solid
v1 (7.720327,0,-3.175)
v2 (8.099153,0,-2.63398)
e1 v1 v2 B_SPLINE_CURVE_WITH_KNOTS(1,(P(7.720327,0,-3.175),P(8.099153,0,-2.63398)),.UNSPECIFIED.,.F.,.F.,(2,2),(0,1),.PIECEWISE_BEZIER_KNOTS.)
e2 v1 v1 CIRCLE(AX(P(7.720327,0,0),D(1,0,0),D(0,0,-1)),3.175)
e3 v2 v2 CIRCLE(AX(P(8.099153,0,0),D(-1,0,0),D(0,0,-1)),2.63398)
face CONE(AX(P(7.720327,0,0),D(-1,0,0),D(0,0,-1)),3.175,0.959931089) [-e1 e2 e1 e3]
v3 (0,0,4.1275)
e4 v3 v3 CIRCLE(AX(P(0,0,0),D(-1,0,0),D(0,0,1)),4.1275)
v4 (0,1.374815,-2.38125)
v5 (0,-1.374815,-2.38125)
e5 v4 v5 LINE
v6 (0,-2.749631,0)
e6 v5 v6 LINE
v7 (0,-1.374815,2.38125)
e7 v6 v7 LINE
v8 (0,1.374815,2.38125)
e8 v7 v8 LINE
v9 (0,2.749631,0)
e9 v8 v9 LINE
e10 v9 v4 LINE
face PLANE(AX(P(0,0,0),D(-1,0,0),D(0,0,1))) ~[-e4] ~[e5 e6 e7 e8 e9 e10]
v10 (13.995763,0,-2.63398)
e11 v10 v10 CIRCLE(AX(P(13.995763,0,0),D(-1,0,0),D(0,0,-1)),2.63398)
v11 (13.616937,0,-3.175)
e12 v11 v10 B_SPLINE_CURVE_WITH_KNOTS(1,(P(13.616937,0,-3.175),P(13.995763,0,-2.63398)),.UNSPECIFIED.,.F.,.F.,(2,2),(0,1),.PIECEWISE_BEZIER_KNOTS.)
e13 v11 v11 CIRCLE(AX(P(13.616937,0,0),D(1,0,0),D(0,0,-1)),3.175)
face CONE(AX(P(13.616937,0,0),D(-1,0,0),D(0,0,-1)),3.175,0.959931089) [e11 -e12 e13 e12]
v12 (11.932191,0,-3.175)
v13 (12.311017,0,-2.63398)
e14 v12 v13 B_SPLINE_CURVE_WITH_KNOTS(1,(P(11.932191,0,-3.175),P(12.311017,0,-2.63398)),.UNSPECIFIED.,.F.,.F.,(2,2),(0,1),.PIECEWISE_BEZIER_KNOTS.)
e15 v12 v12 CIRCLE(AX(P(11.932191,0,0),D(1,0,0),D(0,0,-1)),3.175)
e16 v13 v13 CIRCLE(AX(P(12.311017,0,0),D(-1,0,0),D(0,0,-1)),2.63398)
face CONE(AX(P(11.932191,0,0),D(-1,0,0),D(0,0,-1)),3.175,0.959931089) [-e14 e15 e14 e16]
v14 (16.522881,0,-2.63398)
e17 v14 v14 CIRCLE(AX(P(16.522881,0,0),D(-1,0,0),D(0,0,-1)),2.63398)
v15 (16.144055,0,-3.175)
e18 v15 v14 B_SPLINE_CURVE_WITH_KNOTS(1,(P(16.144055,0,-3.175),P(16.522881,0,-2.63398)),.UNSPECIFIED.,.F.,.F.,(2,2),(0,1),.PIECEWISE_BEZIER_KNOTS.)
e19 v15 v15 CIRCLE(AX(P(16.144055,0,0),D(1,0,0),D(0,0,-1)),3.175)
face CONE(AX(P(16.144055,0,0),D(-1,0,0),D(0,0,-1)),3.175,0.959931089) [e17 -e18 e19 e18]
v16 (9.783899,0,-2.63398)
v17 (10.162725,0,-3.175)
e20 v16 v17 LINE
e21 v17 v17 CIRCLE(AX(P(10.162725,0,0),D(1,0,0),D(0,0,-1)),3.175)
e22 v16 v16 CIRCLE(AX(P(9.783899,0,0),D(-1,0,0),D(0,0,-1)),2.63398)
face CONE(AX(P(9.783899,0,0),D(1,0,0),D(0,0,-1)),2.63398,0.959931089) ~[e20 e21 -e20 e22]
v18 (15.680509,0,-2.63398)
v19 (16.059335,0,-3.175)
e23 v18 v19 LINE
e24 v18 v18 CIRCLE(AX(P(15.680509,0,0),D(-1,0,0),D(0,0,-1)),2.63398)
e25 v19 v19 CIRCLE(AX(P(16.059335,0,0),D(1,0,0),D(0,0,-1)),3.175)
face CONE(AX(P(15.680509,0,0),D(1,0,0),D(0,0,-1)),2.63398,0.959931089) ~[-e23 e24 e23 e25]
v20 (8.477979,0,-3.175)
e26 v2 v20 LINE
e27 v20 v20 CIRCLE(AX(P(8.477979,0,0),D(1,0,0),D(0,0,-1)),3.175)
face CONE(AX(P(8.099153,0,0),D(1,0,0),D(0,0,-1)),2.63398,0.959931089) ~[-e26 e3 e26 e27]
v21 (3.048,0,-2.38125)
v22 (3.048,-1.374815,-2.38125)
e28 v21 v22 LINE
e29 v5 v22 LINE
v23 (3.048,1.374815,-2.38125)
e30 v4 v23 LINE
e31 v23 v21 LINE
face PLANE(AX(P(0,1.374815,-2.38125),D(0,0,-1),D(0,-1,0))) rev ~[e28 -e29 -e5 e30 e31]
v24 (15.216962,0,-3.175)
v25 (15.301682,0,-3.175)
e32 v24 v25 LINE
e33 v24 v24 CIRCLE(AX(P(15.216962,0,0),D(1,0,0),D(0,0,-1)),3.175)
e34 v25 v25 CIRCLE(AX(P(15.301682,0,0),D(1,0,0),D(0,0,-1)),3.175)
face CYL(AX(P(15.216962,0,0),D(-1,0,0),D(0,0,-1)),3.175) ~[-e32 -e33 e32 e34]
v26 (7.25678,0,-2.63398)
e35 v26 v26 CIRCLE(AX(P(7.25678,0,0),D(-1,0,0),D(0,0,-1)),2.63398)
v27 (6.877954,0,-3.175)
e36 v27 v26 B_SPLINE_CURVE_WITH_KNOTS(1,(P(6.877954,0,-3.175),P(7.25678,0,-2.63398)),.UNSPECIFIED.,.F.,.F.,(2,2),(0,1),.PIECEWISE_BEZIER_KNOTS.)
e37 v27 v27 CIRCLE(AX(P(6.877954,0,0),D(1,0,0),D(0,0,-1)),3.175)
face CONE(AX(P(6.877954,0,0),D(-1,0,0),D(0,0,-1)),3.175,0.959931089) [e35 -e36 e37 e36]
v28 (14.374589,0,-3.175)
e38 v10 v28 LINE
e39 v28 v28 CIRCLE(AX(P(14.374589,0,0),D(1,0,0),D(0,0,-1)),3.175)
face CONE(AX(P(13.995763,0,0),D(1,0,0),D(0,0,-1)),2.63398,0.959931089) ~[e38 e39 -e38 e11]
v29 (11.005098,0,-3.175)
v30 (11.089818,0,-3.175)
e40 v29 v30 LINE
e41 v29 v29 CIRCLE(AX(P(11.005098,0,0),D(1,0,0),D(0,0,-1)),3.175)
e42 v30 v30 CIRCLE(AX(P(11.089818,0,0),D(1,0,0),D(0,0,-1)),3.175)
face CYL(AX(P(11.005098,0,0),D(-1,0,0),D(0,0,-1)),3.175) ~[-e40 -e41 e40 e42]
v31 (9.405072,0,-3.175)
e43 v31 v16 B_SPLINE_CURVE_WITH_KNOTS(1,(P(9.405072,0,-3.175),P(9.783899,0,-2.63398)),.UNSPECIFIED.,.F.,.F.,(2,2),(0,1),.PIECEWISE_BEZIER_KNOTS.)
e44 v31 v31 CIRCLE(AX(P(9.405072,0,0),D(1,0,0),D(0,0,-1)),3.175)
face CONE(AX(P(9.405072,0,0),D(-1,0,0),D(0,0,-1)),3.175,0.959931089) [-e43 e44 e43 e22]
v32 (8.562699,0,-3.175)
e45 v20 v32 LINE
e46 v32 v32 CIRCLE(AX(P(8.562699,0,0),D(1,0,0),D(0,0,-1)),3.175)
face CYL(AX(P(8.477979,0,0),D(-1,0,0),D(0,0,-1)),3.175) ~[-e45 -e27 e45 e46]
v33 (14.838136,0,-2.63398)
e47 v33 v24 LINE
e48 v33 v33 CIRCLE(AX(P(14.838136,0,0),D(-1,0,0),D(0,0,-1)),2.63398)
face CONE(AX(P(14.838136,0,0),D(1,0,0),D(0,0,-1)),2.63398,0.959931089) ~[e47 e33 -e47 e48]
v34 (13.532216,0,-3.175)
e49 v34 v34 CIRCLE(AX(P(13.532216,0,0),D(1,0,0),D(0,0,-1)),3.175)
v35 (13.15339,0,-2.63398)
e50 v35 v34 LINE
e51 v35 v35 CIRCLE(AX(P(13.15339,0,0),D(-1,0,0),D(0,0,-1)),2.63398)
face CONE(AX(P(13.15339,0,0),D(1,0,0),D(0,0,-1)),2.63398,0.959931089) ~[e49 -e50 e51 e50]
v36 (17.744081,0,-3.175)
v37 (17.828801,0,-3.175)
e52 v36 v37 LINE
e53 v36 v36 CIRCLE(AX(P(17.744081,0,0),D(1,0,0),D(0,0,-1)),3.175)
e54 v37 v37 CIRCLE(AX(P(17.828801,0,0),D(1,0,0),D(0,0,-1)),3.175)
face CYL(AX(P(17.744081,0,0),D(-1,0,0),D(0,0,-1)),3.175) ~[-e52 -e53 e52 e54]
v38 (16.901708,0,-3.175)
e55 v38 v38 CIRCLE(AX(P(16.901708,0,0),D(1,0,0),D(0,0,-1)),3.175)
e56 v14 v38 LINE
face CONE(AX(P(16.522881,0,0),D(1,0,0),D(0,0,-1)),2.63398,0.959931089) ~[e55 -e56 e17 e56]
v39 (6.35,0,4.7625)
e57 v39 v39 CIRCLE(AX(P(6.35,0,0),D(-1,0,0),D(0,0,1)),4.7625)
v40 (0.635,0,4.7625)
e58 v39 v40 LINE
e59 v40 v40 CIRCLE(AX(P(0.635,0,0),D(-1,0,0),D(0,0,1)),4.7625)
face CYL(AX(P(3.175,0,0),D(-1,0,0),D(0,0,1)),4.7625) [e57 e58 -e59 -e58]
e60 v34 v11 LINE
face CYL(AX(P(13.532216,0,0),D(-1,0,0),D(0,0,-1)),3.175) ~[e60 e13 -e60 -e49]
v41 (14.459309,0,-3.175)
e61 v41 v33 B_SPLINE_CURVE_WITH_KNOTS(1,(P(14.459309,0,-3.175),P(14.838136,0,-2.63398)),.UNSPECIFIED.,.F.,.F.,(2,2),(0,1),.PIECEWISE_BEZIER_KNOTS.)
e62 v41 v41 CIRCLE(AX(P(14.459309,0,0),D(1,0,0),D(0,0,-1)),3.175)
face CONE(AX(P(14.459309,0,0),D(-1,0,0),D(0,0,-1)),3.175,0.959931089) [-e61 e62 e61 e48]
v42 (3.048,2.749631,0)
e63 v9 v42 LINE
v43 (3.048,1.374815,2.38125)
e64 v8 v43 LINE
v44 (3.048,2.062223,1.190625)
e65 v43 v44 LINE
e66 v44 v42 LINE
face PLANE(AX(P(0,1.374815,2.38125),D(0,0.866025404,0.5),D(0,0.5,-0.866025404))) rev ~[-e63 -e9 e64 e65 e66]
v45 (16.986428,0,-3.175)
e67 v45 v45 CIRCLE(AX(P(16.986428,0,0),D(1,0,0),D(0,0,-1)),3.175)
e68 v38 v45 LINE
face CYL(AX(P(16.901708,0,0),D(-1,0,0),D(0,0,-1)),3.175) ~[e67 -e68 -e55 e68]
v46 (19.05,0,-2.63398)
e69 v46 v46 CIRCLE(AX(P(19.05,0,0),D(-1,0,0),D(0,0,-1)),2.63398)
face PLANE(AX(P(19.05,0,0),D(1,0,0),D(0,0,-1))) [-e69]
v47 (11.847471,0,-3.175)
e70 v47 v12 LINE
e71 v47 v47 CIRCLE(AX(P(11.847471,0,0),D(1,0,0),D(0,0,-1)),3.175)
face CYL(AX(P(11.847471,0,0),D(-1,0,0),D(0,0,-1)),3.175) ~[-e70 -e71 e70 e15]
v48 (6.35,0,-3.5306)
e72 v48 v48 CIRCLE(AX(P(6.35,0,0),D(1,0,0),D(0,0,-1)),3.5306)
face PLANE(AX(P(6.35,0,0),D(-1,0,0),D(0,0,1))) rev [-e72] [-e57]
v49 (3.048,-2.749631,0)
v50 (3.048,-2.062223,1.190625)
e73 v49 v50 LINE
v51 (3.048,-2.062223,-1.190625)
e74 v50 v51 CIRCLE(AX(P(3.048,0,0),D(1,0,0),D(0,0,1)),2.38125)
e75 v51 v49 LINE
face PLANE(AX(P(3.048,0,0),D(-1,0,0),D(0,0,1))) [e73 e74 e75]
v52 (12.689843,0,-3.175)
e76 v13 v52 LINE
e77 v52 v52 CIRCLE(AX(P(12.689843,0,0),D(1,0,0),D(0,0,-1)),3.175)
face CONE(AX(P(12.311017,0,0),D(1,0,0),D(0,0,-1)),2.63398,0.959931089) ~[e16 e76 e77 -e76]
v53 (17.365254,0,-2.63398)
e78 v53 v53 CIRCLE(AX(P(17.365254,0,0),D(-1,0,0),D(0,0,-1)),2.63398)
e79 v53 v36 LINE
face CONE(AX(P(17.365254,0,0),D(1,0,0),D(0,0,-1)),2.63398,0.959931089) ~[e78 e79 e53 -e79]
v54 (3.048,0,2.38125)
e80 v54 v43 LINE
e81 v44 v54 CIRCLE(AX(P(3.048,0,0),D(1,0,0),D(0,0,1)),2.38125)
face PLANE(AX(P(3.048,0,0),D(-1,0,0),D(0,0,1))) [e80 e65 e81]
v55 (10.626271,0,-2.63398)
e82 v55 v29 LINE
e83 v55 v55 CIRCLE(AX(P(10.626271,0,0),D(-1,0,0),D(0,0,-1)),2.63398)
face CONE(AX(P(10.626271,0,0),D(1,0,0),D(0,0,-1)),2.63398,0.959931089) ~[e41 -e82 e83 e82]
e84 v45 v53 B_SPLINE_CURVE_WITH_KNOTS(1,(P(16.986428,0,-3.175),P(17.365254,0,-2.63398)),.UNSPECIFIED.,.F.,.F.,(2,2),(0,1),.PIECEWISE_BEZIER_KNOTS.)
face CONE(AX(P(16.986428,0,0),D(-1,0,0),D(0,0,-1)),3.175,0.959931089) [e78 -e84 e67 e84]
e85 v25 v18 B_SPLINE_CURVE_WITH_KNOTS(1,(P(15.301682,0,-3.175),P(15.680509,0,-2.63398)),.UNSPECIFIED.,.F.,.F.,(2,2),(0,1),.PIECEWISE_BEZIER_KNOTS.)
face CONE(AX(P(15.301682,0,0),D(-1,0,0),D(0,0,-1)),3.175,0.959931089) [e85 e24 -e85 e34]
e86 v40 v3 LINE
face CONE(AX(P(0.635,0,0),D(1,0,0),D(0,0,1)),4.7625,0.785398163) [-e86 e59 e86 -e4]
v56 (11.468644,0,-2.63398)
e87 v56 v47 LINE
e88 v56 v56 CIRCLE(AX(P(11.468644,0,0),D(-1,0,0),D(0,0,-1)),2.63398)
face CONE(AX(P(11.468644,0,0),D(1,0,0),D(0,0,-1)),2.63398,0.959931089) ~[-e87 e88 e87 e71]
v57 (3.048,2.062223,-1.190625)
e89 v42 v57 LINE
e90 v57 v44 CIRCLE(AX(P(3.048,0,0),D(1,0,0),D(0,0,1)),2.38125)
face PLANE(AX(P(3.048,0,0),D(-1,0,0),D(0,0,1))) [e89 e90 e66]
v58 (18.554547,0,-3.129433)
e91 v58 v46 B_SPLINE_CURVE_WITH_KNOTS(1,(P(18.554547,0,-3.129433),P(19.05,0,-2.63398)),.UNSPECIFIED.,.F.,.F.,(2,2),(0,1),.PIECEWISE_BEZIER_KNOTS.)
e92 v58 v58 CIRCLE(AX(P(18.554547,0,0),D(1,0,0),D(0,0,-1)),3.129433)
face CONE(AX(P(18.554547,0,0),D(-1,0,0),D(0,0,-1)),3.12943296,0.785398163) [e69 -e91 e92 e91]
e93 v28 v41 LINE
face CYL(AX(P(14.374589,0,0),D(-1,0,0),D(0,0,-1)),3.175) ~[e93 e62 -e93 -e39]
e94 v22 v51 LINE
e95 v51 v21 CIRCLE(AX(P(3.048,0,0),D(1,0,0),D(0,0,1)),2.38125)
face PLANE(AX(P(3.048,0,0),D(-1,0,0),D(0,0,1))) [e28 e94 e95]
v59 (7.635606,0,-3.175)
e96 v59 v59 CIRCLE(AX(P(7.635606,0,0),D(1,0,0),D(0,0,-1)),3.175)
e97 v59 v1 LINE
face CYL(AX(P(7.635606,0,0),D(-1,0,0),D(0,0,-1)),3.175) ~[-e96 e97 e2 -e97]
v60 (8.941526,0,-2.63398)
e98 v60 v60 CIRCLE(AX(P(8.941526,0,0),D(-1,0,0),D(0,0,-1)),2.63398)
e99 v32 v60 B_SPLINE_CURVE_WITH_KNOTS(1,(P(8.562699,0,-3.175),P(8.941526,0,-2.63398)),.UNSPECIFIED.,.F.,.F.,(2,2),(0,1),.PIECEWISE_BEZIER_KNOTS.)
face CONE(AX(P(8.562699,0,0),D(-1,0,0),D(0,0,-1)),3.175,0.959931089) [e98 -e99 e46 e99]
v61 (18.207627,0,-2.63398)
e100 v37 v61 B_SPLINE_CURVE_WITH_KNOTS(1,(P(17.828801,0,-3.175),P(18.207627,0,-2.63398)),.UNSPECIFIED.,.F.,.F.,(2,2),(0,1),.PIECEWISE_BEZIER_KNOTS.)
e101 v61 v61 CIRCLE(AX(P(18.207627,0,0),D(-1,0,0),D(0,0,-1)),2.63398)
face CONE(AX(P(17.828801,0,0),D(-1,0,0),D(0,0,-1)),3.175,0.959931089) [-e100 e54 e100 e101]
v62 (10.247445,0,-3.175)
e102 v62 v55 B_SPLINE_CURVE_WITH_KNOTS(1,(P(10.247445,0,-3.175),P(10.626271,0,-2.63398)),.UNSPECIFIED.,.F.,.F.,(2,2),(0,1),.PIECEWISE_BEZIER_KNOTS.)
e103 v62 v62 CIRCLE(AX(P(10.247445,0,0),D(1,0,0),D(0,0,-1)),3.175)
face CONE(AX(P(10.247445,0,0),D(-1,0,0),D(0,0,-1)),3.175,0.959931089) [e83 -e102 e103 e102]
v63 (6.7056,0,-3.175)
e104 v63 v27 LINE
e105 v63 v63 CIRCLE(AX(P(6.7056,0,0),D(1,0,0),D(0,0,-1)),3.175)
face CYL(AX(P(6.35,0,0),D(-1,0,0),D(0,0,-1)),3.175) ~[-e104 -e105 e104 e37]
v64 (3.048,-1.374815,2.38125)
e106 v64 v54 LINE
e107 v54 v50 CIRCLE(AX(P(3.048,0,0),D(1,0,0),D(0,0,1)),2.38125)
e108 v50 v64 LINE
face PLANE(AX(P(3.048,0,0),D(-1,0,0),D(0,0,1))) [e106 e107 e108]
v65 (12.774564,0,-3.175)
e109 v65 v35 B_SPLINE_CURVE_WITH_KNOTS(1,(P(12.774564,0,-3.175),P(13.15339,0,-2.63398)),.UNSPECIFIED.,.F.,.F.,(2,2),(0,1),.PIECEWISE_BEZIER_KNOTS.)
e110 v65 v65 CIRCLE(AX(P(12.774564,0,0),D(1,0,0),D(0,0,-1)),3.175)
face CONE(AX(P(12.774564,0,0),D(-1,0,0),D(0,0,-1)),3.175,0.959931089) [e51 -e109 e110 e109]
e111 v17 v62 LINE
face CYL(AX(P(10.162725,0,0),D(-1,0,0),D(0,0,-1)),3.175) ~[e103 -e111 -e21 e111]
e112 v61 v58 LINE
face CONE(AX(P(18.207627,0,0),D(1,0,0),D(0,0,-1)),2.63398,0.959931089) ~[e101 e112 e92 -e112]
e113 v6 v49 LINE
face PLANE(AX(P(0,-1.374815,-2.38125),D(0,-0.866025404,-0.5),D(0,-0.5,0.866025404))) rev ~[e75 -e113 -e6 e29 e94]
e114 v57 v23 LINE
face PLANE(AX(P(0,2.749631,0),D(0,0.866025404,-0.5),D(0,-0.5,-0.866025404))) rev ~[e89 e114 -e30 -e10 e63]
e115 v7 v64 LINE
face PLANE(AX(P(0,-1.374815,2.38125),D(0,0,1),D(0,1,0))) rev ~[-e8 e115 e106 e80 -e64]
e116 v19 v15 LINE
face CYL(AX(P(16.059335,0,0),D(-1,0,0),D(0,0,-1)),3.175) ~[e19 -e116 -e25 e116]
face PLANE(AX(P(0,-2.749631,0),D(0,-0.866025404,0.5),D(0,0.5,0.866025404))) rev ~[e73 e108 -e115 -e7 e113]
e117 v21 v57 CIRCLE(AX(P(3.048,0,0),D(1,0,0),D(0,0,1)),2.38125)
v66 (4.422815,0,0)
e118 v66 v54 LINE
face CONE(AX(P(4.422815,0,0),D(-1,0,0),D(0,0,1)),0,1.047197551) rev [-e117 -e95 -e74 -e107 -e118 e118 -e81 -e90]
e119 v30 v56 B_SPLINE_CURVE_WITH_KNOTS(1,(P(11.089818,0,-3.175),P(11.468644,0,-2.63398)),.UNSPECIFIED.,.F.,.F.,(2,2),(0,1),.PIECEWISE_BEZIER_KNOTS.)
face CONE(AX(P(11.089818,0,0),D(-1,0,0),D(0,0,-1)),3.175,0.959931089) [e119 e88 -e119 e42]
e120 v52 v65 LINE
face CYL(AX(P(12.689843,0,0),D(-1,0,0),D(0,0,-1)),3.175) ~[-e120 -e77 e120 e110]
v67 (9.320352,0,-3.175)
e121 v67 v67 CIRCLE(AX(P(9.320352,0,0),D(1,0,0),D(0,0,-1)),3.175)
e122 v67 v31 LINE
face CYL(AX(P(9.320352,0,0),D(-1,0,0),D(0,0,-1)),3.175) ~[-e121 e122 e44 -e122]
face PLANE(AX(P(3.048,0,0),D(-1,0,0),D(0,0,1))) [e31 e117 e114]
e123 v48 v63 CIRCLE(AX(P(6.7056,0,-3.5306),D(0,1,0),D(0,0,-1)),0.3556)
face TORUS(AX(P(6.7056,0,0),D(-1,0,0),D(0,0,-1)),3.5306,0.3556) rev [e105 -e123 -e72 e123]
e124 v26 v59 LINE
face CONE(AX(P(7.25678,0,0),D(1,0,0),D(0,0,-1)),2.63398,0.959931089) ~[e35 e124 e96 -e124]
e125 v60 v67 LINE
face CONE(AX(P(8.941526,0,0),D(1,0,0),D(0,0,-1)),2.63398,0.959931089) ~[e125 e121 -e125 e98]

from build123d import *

# Parameters (mm, degrees)
SKETCH1_W            = 6.35
SKETCH1_H            = 4.7625
SKETCH2_R            = 3.175
BOSS_EXTRUDE1_DEPTH  = 0.527953718
SKETCH3_R            = 3.175
BOSS_EXTRUDE2_DEPTH  = 0.378826282
BOSS_EXTRUDE2_TAPER  = 55
SKETCH4_R            = 2.63398
BOSS_EXTRUDE3_DEPTH  = 0.378826282
BOSS_EXTRUDE3_DRAFT  = -54.999999998
SKETCH5_R            = 3.175
BOSS_EXTRUDE4_DEPTH  = 0.084720292
SKETCH6_R            = 3.175
BOSS_EXTRUDE5_DEPTH  = 0.378826282
BOSS_EXTRUDE5_TAPER  = 55
SKETCH7_R            = 2.63398
BOSS_EXTRUDE6_DEPTH  = 0.378826282
BOSS_EXTRUDE6_DRAFT  = -55
SKETCH8_R            = 3.175
BOSS_EXTRUDE7_DEPTH  = 0.084720293
SKETCH9_R            = 3.175
BOSS_EXTRUDE8_DEPTH  = 0.378826282
BOSS_EXTRUDE8_TAPER  = 55
SKETCH10_R           = 2.63398
BOSS_EXTRUDE9_DEPTH  = 0.378826282
BOSS_EXTRUDE9_DRAFT  = -55
SKETCH11_R           = 3.175
BOSS_EXTRUDE10_DEPTH = 0.084720292
SKETCH12_R           = 3.175
BOSS_EXTRUDE11_DEPTH = 0.378826282
BOSS_EXTRUDE11_TAPER = 55
SKETCH13_R           = 2.63398
BOSS_EXTRUDE12_DEPTH = 0.378826282
BOSS_EXTRUDE12_DRAFT = -55
SKETCH14_R           = 3.175
BOSS_EXTRUDE13_DEPTH = 0.084720293
SKETCH15_R           = 3.175
BOSS_EXTRUDE14_DEPTH = 0.378826282
BOSS_EXTRUDE14_TAPER = 55
SKETCH16_R           = 2.63398
BOSS_EXTRUDE15_DEPTH = 0.378826282
BOSS_EXTRUDE15_DRAFT = -55
SKETCH17_R           = 3.175
BOSS_EXTRUDE16_DEPTH = 0.084720292
SKETCH18_R           = 3.175
BOSS_EXTRUDE17_DEPTH = 0.378826282
BOSS_EXTRUDE17_TAPER = 55
SKETCH19_R           = 2.63398
BOSS_EXTRUDE18_DEPTH = 0.378826282
BOSS_EXTRUDE18_DRAFT = -55
SKETCH20_R           = 3.175
BOSS_EXTRUDE19_DEPTH = 0.084720292
SKETCH21_R           = 3.175
BOSS_EXTRUDE20_DEPTH = 0.378826282
BOSS_EXTRUDE20_TAPER = 55
SKETCH22_R           = 2.63398
BOSS_EXTRUDE21_DEPTH = 0.378826282
BOSS_EXTRUDE21_DRAFT = -55
SKETCH23_R           = 3.175
BOSS_EXTRUDE22_DEPTH = 0.084720293
SKETCH24_R           = 3.175
BOSS_EXTRUDE23_DEPTH = 0.378826282
BOSS_EXTRUDE23_TAPER = 55
SKETCH25_R           = 2.63398
BOSS_EXTRUDE24_DEPTH = 0.378826282
BOSS_EXTRUDE24_DRAFT = -55
SKETCH26_R           = 3.175
BOSS_EXTRUDE25_DEPTH = 0.084720292
SKETCH27_R           = 3.175
BOSS_EXTRUDE26_DEPTH = 0.378826282
BOSS_EXTRUDE26_TAPER = 55
SKETCH28_R           = 2.63398
BOSS_EXTRUDE27_DEPTH = 0.378826282
BOSS_EXTRUDE27_DRAFT = -55
SKETCH29_R           = 3.175
BOSS_EXTRUDE28_DEPTH = 0.084720292
SKETCH30_R           = 3.175
BOSS_EXTRUDE29_DEPTH = 0.378826282
BOSS_EXTRUDE29_TAPER = 55
SKETCH31_R           = 2.63398
BOSS_EXTRUDE30_DEPTH = 0.378826282
BOSS_EXTRUDE30_DRAFT = -55
SKETCH32_R           = 3.175
BOSS_EXTRUDE31_DEPTH = 0.084720293
SKETCH33_R           = 3.175
BOSS_EXTRUDE32_DEPTH = 0.378826282
BOSS_EXTRUDE32_TAPER = 55
SKETCH34_R           = 2.63398
BOSS_EXTRUDE33_DEPTH = 0.378826282
BOSS_EXTRUDE33_DRAFT = -55
SKETCH35_R           = 3.175
BOSS_EXTRUDE34_DEPTH = 0.084720292
SKETCH36_R           = 3.175
BOSS_EXTRUDE35_DEPTH = 0.378826282
BOSS_EXTRUDE35_TAPER = 55
SKETCH37_R           = 2.63398
BOSS_EXTRUDE36_DEPTH = 0.378826282
BOSS_EXTRUDE36_DRAFT = -55
SKETCH38_R           = 3.175
BOSS_EXTRUDE37_DEPTH = 0.084720293
SKETCH39_R           = 3.175
BOSS_EXTRUDE38_DEPTH = 0.378826282
BOSS_EXTRUDE38_TAPER = 55
SKETCH40_R           = 2.63398
BOSS_EXTRUDE39_DEPTH = 0.378826282
BOSS_EXTRUDE39_DRAFT = -55
SKETCH41_R           = 3.175
BOSS_EXTRUDE40_DEPTH = 0.084720292
SKETCH42_R           = 3.175
BOSS_EXTRUDE41_DEPTH = 0.378826282
BOSS_EXTRUDE41_TAPER = 55
SKETCH43_R           = 2.63398
BOSS_EXTRUDE42_DEPTH = 0.346919897
BOSS_EXTRUDE42_DRAFT = -55.000000002
SKETCH44_R           = 3.12943296
BOSS_EXTRUDE43_DEPTH = 0.49545296
BOSS_EXTRUDE43_TAPER = 45
CUT_EXTRUDE1_DEPTH   = 3.048
CHAMFER1_SIZE        = 0.635
FILLET1_R            = 0.3556


with BuildPart() as part:
    # Sketch1 → Revolve1 (revolve)
    with BuildSketch(Plane(origin=(0, 0, 0), x_dir=(-1, 0, 0), z_dir=(0, 0, -1)), mode=Mode.PRIVATE) as revolve1_sk:
        with Locations((-3.175, 2.38125)):
            Rectangle(SKETCH1_W, SKETCH1_H)
    revolve(revolve1_sk.sketch.rotate(Axis((6.35, 0, 0), (-1, 0, 0)), 270), axis=Axis((6.35, 0, 0), (-1, 0, 0)))

    # Sketch2 → Boss-Extrude1 (add)
    with BuildSketch(Plane(origin=(6.35, 0, 0), x_dir=(0, 0, -1), z_dir=(1, 0, 0))):
        Circle(SKETCH2_R)
    extrude(amount=BOSS_EXTRUDE1_DEPTH)

    # Sketch3 → Boss-Extrude2 (add)
    with BuildSketch(Plane(origin=(6.877953718, 0, 0), x_dir=(0, 0, -1), z_dir=(1, 0, 0))):
        Circle(SKETCH3_R)
    extrude(amount=BOSS_EXTRUDE2_DEPTH, taper=BOSS_EXTRUDE2_TAPER)


with BuildPart() as boss_extrude3_tool:
    # Sketch4 → Boss-Extrude3 (with draft: the straight prism first)
    with BuildSketch(Plane(origin=(7.25678, 0, 0), x_dir=(0, 0, -1), z_dir=(1, 0, 0))):
        Circle(SKETCH4_R)
    extrude(amount=BOSS_EXTRUDE3_DEPTH)
    # Boss-Extrude3: the draft: its side faces are tilted about the plane it starts from
    boss_extrude3_sides = [boss_extrude3_tool.faces().sort_by_distance(p)[0] for p in [
        (7.446193141, 0, 2.63398),
    ]]
    draft(boss_extrude3_sides, Plane(origin=(7.25678, 0, 0), x_dir=(0, 0, -1), z_dir=(1, 0, 0)), BOSS_EXTRUDE3_DRAFT)


with BuildPart() as part_1:
    add(part.part)

    # Boss-Extrude3: add boss_extrude3_tool
    add(boss_extrude3_tool.part)

    # Sketch5 → Boss-Extrude4 (add)
    with BuildSketch(Plane(origin=(7.635606282, 0, 0), x_dir=(0, 0, -1), z_dir=(1, 0, 0))):
        Circle(SKETCH5_R)
    extrude(amount=BOSS_EXTRUDE4_DEPTH)

    # Sketch6 → Boss-Extrude5 (add)
    with BuildSketch(Plane(origin=(7.720326575, 0, 0), x_dir=(0, 0, -1), z_dir=(1, 0, 0))):
        Circle(SKETCH6_R)
    extrude(amount=BOSS_EXTRUDE5_DEPTH, taper=BOSS_EXTRUDE5_TAPER)


with BuildPart() as boss_extrude6_tool:
    # Sketch7 → Boss-Extrude6 (with draft: the straight prism first)
    with BuildSketch(Plane(origin=(8.099152857, 0, 0), x_dir=(0, 0, -1), z_dir=(1, 0, 0))):
        Circle(SKETCH7_R)
    extrude(amount=BOSS_EXTRUDE6_DEPTH)
    # Boss-Extrude6: the draft: its side faces are tilted about the plane it starts from
    boss_extrude6_sides = [boss_extrude6_tool.faces().sort_by_distance(p)[0] for p in [
        (8.288565998, 0, 2.63398),
    ]]
    draft(boss_extrude6_sides, Plane(origin=(8.099152857, 0, 0), x_dir=(0, 0, -1), z_dir=(1, 0, 0)), BOSS_EXTRUDE6_DRAFT)


with BuildPart() as part_2:
    add(part_1.part)

    # Boss-Extrude6: add boss_extrude6_tool
    add(boss_extrude6_tool.part)

    # Sketch8 → Boss-Extrude7 (add)
    with BuildSketch(Plane(origin=(8.477979139, 0, 0), x_dir=(0, 0, -1), z_dir=(1, 0, 0))):
        Circle(SKETCH8_R)
    extrude(amount=BOSS_EXTRUDE7_DEPTH)

    # Sketch9 → Boss-Extrude8 (add)
    with BuildSketch(Plane(origin=(8.562699432, 0, 0), x_dir=(0, 0, -1), z_dir=(1, 0, 0))):
        Circle(SKETCH9_R)
    extrude(amount=BOSS_EXTRUDE8_DEPTH, taper=BOSS_EXTRUDE8_TAPER)


with BuildPart() as boss_extrude9_tool:
    # Sketch10 → Boss-Extrude9 (with draft: the straight prism first)
    with BuildSketch(Plane(origin=(8.941525714, 0, 0), x_dir=(0, 0, -1), z_dir=(1, 0, 0))):
        Circle(SKETCH10_R)
    extrude(amount=BOSS_EXTRUDE9_DEPTH)
    # Boss-Extrude9: the draft: its side faces are tilted about the plane it starts from
    boss_extrude9_sides = [boss_extrude9_tool.faces().sort_by_distance(p)[0] for p in [
        (9.130938855, 0, 2.63398),
    ]]
    draft(boss_extrude9_sides, Plane(origin=(8.941525714, 0, 0), x_dir=(0, 0, -1), z_dir=(1, 0, 0)), BOSS_EXTRUDE9_DRAFT)


with BuildPart() as part_3:
    add(part_2.part)

    # Boss-Extrude9: add boss_extrude9_tool
    add(boss_extrude9_tool.part)

    # Sketch11 → Boss-Extrude10 (add)
    with BuildSketch(Plane(origin=(9.320351997, 0, 0), x_dir=(0, 0, -1), z_dir=(1, 0, 0))):
        Circle(SKETCH11_R)
    extrude(amount=BOSS_EXTRUDE10_DEPTH)

    # Sketch12 → Boss-Extrude11 (add)
    with BuildSketch(Plane(origin=(9.405072289, 0, 0), x_dir=(0, 0, -1), z_dir=(1, 0, 0))):
        Circle(SKETCH12_R)
    extrude(amount=BOSS_EXTRUDE11_DEPTH, taper=BOSS_EXTRUDE11_TAPER)


with BuildPart() as boss_extrude12_tool:
    # Sketch13 → Boss-Extrude12 (with draft: the straight prism first)
    with BuildSketch(Plane(origin=(9.783898571, 0, 0), x_dir=(0, 0, -1), z_dir=(1, 0, 0))):
        Circle(SKETCH13_R)
    extrude(amount=BOSS_EXTRUDE12_DEPTH)
    # Boss-Extrude12: the draft: its side faces are tilted about the plane it starts from
    boss_extrude12_sides = [boss_extrude12_tool.faces().sort_by_distance(p)[0] for p in [
        (9.973311713, 0, 2.63398),
    ]]
    draft(boss_extrude12_sides, Plane(origin=(9.783898571, 0, 0), x_dir=(0, 0, -1), z_dir=(1, 0, 0)), BOSS_EXTRUDE12_DRAFT)


with BuildPart() as part_4:
    add(part_3.part)

    # Boss-Extrude12: add boss_extrude12_tool
    add(boss_extrude12_tool.part)

    # Sketch14 → Boss-Extrude13 (add)
    with BuildSketch(Plane(origin=(10.162724854, 0, 0), x_dir=(0, 0, -1), z_dir=(1, 0, 0))):
        Circle(SKETCH14_R)
    extrude(amount=BOSS_EXTRUDE13_DEPTH)

    # Sketch15 → Boss-Extrude14 (add)
    with BuildSketch(Plane(origin=(10.247445146, 0, 0), x_dir=(0, 0, -1), z_dir=(1, 0, 0))):
        Circle(SKETCH15_R)
    extrude(amount=BOSS_EXTRUDE14_DEPTH, taper=BOSS_EXTRUDE14_TAPER)


with BuildPart() as boss_extrude15_tool:
    # Sketch16 → Boss-Extrude15 (with draft: the straight prism first)
    with BuildSketch(Plane(origin=(10.626271429, 0, 0), x_dir=(0, 0, -1), z_dir=(1, 0, 0))):
        Circle(SKETCH16_R)
    extrude(amount=BOSS_EXTRUDE15_DEPTH)
    # Boss-Extrude15: the draft: its side faces are tilted about the plane it starts from
    boss_extrude15_sides = [boss_extrude15_tool.faces().sort_by_distance(p)[0] for p in [
        (10.81568457, 0, 2.63398),
    ]]
    draft(boss_extrude15_sides, Plane(origin=(10.626271429, 0, 0), x_dir=(0, 0, -1), z_dir=(1, 0, 0)), BOSS_EXTRUDE15_DRAFT)


with BuildPart() as part_5:
    add(part_4.part)

    # Boss-Extrude15: add boss_extrude15_tool
    add(boss_extrude15_tool.part)

    # Sketch17 → Boss-Extrude16 (add)
    with BuildSketch(Plane(origin=(11.005097711, 0, 0), x_dir=(0, 0, -1), z_dir=(1, 0, 0))):
        Circle(SKETCH17_R)
    extrude(amount=BOSS_EXTRUDE16_DEPTH)

    # Sketch18 → Boss-Extrude17 (add)
    with BuildSketch(Plane(origin=(11.089818003, 0, 0), x_dir=(0, 0, -1), z_dir=(1, 0, 0))):
        Circle(SKETCH18_R)
    extrude(amount=BOSS_EXTRUDE17_DEPTH, taper=BOSS_EXTRUDE17_TAPER)


with BuildPart() as boss_extrude18_tool:
    # Sketch19 → Boss-Extrude18 (with draft: the straight prism first)
    with BuildSketch(Plane(origin=(11.468644286, 0, 0), x_dir=(0, 0, -1), z_dir=(1, 0, 0))):
        Circle(SKETCH19_R)
    extrude(amount=BOSS_EXTRUDE18_DEPTH)
    # Boss-Extrude18: the draft: its side faces are tilted about the plane it starts from
    boss_extrude18_sides = [boss_extrude18_tool.faces().sort_by_distance(p)[0] for p in [
        (11.658057427, 0, 2.63398),
    ]]
    draft(boss_extrude18_sides, Plane(origin=(11.468644286, 0, 0), x_dir=(0, 0, -1), z_dir=(1, 0, 0)), BOSS_EXTRUDE18_DRAFT)


with BuildPart() as part_6:
    add(part_5.part)

    # Boss-Extrude18: add boss_extrude18_tool
    add(boss_extrude18_tool.part)

    # Sketch20 → Boss-Extrude19 (add)
    with BuildSketch(Plane(origin=(11.847470568, 0, 0), x_dir=(0, 0, -1), z_dir=(1, 0, 0))):
        Circle(SKETCH20_R)
    extrude(amount=BOSS_EXTRUDE19_DEPTH)

    # Sketch21 → Boss-Extrude20 (add)
    with BuildSketch(Plane(origin=(11.932190861, 0, 0), x_dir=(0, 0, -1), z_dir=(1, 0, 0))):
        Circle(SKETCH21_R)
    extrude(amount=BOSS_EXTRUDE20_DEPTH, taper=BOSS_EXTRUDE20_TAPER)


with BuildPart() as boss_extrude21_tool:
    # Sketch22 → Boss-Extrude21 (with draft: the straight prism first)
    with BuildSketch(Plane(origin=(12.311017143, 0, 0), x_dir=(0, 0, -1), z_dir=(1, 0, 0))):
        Circle(SKETCH22_R)
    extrude(amount=BOSS_EXTRUDE21_DEPTH)
    # Boss-Extrude21: the draft: its side faces are tilted about the plane it starts from
    boss_extrude21_sides = [boss_extrude21_tool.faces().sort_by_distance(p)[0] for p in [
        (12.500430284, 0, 2.63398),
    ]]
    draft(boss_extrude21_sides, Plane(origin=(12.311017143, 0, 0), x_dir=(0, 0, -1), z_dir=(1, 0, 0)), BOSS_EXTRUDE21_DRAFT)


with BuildPart() as part_7:
    add(part_6.part)

    # Boss-Extrude21: add boss_extrude21_tool
    add(boss_extrude21_tool.part)

    # Sketch23 → Boss-Extrude22 (add)
    with BuildSketch(Plane(origin=(12.689843425, 0, 0), x_dir=(0, 0, -1), z_dir=(1, 0, 0))):
        Circle(SKETCH23_R)
    extrude(amount=BOSS_EXTRUDE22_DEPTH)

    # Sketch24 → Boss-Extrude23 (add)
    with BuildSketch(Plane(origin=(12.774563718, 0, 0), x_dir=(0, 0, -1), z_dir=(1, 0, 0))):
        Circle(SKETCH24_R)
    extrude(amount=BOSS_EXTRUDE23_DEPTH, taper=BOSS_EXTRUDE23_TAPER)


with BuildPart() as boss_extrude24_tool:
    # Sketch25 → Boss-Extrude24 (with draft: the straight prism first)
    with BuildSketch(Plane(origin=(13.15339, 0, 0), x_dir=(0, 0, -1), z_dir=(1, 0, 0))):
        Circle(SKETCH25_R)
    extrude(amount=BOSS_EXTRUDE24_DEPTH)
    # Boss-Extrude24: the draft: its side faces are tilted about the plane it starts from
    boss_extrude24_sides = [boss_extrude24_tool.faces().sort_by_distance(p)[0] for p in [
        (13.342803141, 0, 2.63398),
    ]]
    draft(boss_extrude24_sides, Plane(origin=(13.15339, 0, 0), x_dir=(0, 0, -1), z_dir=(1, 0, 0)), BOSS_EXTRUDE24_DRAFT)


with BuildPart() as part_8:
    add(part_7.part)

    # Boss-Extrude24: add boss_extrude24_tool
    add(boss_extrude24_tool.part)

    # Sketch26 → Boss-Extrude25 (add)
    with BuildSketch(Plane(origin=(13.532216282, 0, 0), x_dir=(0, 0, -1), z_dir=(1, 0, 0))):
        Circle(SKETCH26_R)
    extrude(amount=BOSS_EXTRUDE25_DEPTH)

    # Sketch27 → Boss-Extrude26 (add)
    with BuildSketch(Plane(origin=(13.616936575, 0, 0), x_dir=(0, 0, -1), z_dir=(1, 0, 0))):
        Circle(SKETCH27_R)
    extrude(amount=BOSS_EXTRUDE26_DEPTH, taper=BOSS_EXTRUDE26_TAPER)


with BuildPart() as boss_extrude27_tool:
    # Sketch28 → Boss-Extrude27 (with draft: the straight prism first)
    with BuildSketch(Plane(origin=(13.995762857, 0, 0), x_dir=(0, 0, -1), z_dir=(1, 0, 0))):
        Circle(SKETCH28_R)
    extrude(amount=BOSS_EXTRUDE27_DEPTH)
    # Boss-Extrude27: the draft: its side faces are tilted about the plane it starts from
    boss_extrude27_sides = [boss_extrude27_tool.faces().sort_by_distance(p)[0] for p in [
        (14.185175998, 0, 2.63398),
    ]]
    draft(boss_extrude27_sides, Plane(origin=(13.995762857, 0, 0), x_dir=(0, 0, -1), z_dir=(1, 0, 0)), BOSS_EXTRUDE27_DRAFT)


with BuildPart() as part_9:
    add(part_8.part)

    # Boss-Extrude27: add boss_extrude27_tool
    add(boss_extrude27_tool.part)

    # Sketch29 → Boss-Extrude28 (add)
    with BuildSketch(Plane(origin=(14.374589139, 0, 0), x_dir=(0, 0, -1), z_dir=(1, 0, 0))):
        Circle(SKETCH29_R)
    extrude(amount=BOSS_EXTRUDE28_DEPTH)

    # Sketch30 → Boss-Extrude29 (add)
    with BuildSketch(Plane(origin=(14.459309432, 0, 0), x_dir=(0, 0, -1), z_dir=(1, 0, 0))):
        Circle(SKETCH30_R)
    extrude(amount=BOSS_EXTRUDE29_DEPTH, taper=BOSS_EXTRUDE29_TAPER)


with BuildPart() as boss_extrude30_tool:
    # Sketch31 → Boss-Extrude30 (with draft: the straight prism first)
    with BuildSketch(Plane(origin=(14.838135714, 0, 0), x_dir=(0, 0, -1), z_dir=(1, 0, 0))):
        Circle(SKETCH31_R)
    extrude(amount=BOSS_EXTRUDE30_DEPTH)
    # Boss-Extrude30: the draft: its side faces are tilted about the plane it starts from
    boss_extrude30_sides = [boss_extrude30_tool.faces().sort_by_distance(p)[0] for p in [
        (15.027548855, 0, 2.63398),
    ]]
    draft(boss_extrude30_sides, Plane(origin=(14.838135714, 0, 0), x_dir=(0, 0, -1), z_dir=(1, 0, 0)), BOSS_EXTRUDE30_DRAFT)


with BuildPart() as part_10:
    add(part_9.part)

    # Boss-Extrude30: add boss_extrude30_tool
    add(boss_extrude30_tool.part)

    # Sketch32 → Boss-Extrude31 (add)
    with BuildSketch(Plane(origin=(15.216961997, 0, 0), x_dir=(0, 0, -1), z_dir=(1, 0, 0))):
        Circle(SKETCH32_R)
    extrude(amount=BOSS_EXTRUDE31_DEPTH)

    # Sketch33 → Boss-Extrude32 (add)
    with BuildSketch(Plane(origin=(15.301682289, 0, 0), x_dir=(0, 0, -1), z_dir=(1, 0, 0))):
        Circle(SKETCH33_R)
    extrude(amount=BOSS_EXTRUDE32_DEPTH, taper=BOSS_EXTRUDE32_TAPER)


with BuildPart() as boss_extrude33_tool:
    # Sketch34 → Boss-Extrude33 (with draft: the straight prism first)
    with BuildSketch(Plane(origin=(15.680508571, 0, 0), x_dir=(0, 0, -1), z_dir=(1, 0, 0))):
        Circle(SKETCH34_R)
    extrude(amount=BOSS_EXTRUDE33_DEPTH)
    # Boss-Extrude33: the draft: its side faces are tilted about the plane it starts from
    boss_extrude33_sides = [boss_extrude33_tool.faces().sort_by_distance(p)[0] for p in [
        (15.869921713, 0, 2.63398),
    ]]
    draft(boss_extrude33_sides, Plane(origin=(15.680508571, 0, 0), x_dir=(0, 0, -1), z_dir=(1, 0, 0)), BOSS_EXTRUDE33_DRAFT)


with BuildPart() as part_11:
    add(part_10.part)

    # Boss-Extrude33: add boss_extrude33_tool
    add(boss_extrude33_tool.part)

    # Sketch35 → Boss-Extrude34 (add)
    with BuildSketch(Plane(origin=(16.059334854, 0, 0), x_dir=(0, 0, -1), z_dir=(1, 0, 0))):
        Circle(SKETCH35_R)
    extrude(amount=BOSS_EXTRUDE34_DEPTH)

    # Sketch36 → Boss-Extrude35 (add)
    with BuildSketch(Plane(origin=(16.144055146, 0, 0), x_dir=(0, 0, -1), z_dir=(1, 0, 0))):
        Circle(SKETCH36_R)
    extrude(amount=BOSS_EXTRUDE35_DEPTH, taper=BOSS_EXTRUDE35_TAPER)


with BuildPart() as boss_extrude36_tool:
    # Sketch37 → Boss-Extrude36 (with draft: the straight prism first)
    with BuildSketch(Plane(origin=(16.522881429, 0, 0), x_dir=(0, 0, -1), z_dir=(1, 0, 0))):
        Circle(SKETCH37_R)
    extrude(amount=BOSS_EXTRUDE36_DEPTH)
    # Boss-Extrude36: the draft: its side faces are tilted about the plane it starts from
    boss_extrude36_sides = [boss_extrude36_tool.faces().sort_by_distance(p)[0] for p in [
        (16.71229457, 0, 2.63398),
    ]]
    draft(boss_extrude36_sides, Plane(origin=(16.522881429, 0, 0), x_dir=(0, 0, -1), z_dir=(1, 0, 0)), BOSS_EXTRUDE36_DRAFT)


with BuildPart() as part_12:
    add(part_11.part)

    # Boss-Extrude36: add boss_extrude36_tool
    add(boss_extrude36_tool.part)

    # Sketch38 → Boss-Extrude37 (add)
    with BuildSketch(Plane(origin=(16.901707711, 0, 0), x_dir=(0, 0, -1), z_dir=(1, 0, 0))):
        Circle(SKETCH38_R)
    extrude(amount=BOSS_EXTRUDE37_DEPTH)

    # Sketch39 → Boss-Extrude38 (add)
    with BuildSketch(Plane(origin=(16.986428003, 0, 0), x_dir=(0, 0, -1), z_dir=(1, 0, 0))):
        Circle(SKETCH39_R)
    extrude(amount=BOSS_EXTRUDE38_DEPTH, taper=BOSS_EXTRUDE38_TAPER)


with BuildPart() as boss_extrude39_tool:
    # Sketch40 → Boss-Extrude39 (with draft: the straight prism first)
    with BuildSketch(Plane(origin=(17.365254286, 0, 0), x_dir=(0, 0, -1), z_dir=(1, 0, 0))):
        Circle(SKETCH40_R)
    extrude(amount=BOSS_EXTRUDE39_DEPTH)
    # Boss-Extrude39: the draft: its side faces are tilted about the plane it starts from
    boss_extrude39_sides = [boss_extrude39_tool.faces().sort_by_distance(p)[0] for p in [
        (17.554667427, 0, 2.63398),
    ]]
    draft(boss_extrude39_sides, Plane(origin=(17.365254286, 0, 0), x_dir=(0, 0, -1), z_dir=(1, 0, 0)), BOSS_EXTRUDE39_DRAFT)


with BuildPart() as part_13:
    add(part_12.part)

    # Boss-Extrude39: add boss_extrude39_tool
    add(boss_extrude39_tool.part)

    # Sketch41 → Boss-Extrude40 (add)
    with BuildSketch(Plane(origin=(17.744080568, 0, 0), x_dir=(0, 0, -1), z_dir=(1, 0, 0))):
        Circle(SKETCH41_R)
    extrude(amount=BOSS_EXTRUDE40_DEPTH)

    # Sketch42 → Boss-Extrude41 (add)
    with BuildSketch(Plane(origin=(17.828800861, 0, 0), x_dir=(0, 0, -1), z_dir=(1, 0, 0))):
        Circle(SKETCH42_R)
    extrude(amount=BOSS_EXTRUDE41_DEPTH, taper=BOSS_EXTRUDE41_TAPER)


with BuildPart() as boss_extrude42_tool:
    # Sketch43 → Boss-Extrude42 (with draft: the straight prism first)
    with BuildSketch(Plane(origin=(18.207627143, 0, 0), x_dir=(0, 0, -1), z_dir=(1, 0, 0))):
        Circle(SKETCH43_R)
    extrude(amount=BOSS_EXTRUDE42_DEPTH)
    # Boss-Extrude42: the draft: its side faces are tilted about the plane it starts from
    boss_extrude42_sides = [boss_extrude42_tool.faces().sort_by_distance(p)[0] for p in [
        (18.381087092, 0, 2.63398),
    ]]
    draft(boss_extrude42_sides, Plane(origin=(18.207627143, 0, 0), x_dir=(0, 0, -1), z_dir=(1, 0, 0)), BOSS_EXTRUDE42_DRAFT)


with BuildPart() as part_14:
    add(part_13.part)

    # Boss-Extrude42: add boss_extrude42_tool
    add(boss_extrude42_tool.part)

    # Sketch44 → Boss-Extrude43 (add)
    with BuildSketch(Plane(origin=(18.55454704, 0, 0), x_dir=(0, 0, -1), z_dir=(1, 0, 0))):
        Circle(SKETCH44_R)
    extrude(amount=BOSS_EXTRUDE43_DEPTH, taper=BOSS_EXTRUDE43_TAPER)

    # Sketch45 → Cut-Extrude1 (cut)
    with BuildSketch(Plane.ZY):
        Polygon((-2.38125, -1.374815329), (0, -2.749630657), (2.38125, -1.374815329), (2.38125, 1.374815329), (0, 2.749630657), (-2.38125, 1.374815329), align=None)
    extrude(amount=-CUT_EXTRUDE1_DEPTH, mode=Mode.SUBTRACT)

    # Sketch46 → Cut-Revolve1 (revolve, cut)
    with BuildSketch(Plane.XY, mode=Mode.PRIVATE) as cut_revolve1_sk:
        Polygon((3.048, 2.38125), (3.048, 0), (4.422815329, 0), align=None)
    revolve(cut_revolve1_sk.sketch.rotate(Axis((3.047975, 0, 0), (1, 0, 0)), 90), axis=Axis((3.047975, 0, 0), (1, 0, 0)), mode=Mode.SUBTRACT)

    # Chamfer1
    chamfer1_edges = [part_14.edges().sort_by_distance(p)[0] for p in [
        (0, 0, -4.7625),
    ]]
    chamfer(chamfer1_edges, length=CHAMFER1_SIZE)

    # Fillet1
    fillet1_edges = [part_14.edges().sort_by_distance(p)[0] for p in [
        (6.35, 0, 3.175),
    ]]
    fillet(fillet1_edges, radius=FILLET1_R)


solid = part_14.part
